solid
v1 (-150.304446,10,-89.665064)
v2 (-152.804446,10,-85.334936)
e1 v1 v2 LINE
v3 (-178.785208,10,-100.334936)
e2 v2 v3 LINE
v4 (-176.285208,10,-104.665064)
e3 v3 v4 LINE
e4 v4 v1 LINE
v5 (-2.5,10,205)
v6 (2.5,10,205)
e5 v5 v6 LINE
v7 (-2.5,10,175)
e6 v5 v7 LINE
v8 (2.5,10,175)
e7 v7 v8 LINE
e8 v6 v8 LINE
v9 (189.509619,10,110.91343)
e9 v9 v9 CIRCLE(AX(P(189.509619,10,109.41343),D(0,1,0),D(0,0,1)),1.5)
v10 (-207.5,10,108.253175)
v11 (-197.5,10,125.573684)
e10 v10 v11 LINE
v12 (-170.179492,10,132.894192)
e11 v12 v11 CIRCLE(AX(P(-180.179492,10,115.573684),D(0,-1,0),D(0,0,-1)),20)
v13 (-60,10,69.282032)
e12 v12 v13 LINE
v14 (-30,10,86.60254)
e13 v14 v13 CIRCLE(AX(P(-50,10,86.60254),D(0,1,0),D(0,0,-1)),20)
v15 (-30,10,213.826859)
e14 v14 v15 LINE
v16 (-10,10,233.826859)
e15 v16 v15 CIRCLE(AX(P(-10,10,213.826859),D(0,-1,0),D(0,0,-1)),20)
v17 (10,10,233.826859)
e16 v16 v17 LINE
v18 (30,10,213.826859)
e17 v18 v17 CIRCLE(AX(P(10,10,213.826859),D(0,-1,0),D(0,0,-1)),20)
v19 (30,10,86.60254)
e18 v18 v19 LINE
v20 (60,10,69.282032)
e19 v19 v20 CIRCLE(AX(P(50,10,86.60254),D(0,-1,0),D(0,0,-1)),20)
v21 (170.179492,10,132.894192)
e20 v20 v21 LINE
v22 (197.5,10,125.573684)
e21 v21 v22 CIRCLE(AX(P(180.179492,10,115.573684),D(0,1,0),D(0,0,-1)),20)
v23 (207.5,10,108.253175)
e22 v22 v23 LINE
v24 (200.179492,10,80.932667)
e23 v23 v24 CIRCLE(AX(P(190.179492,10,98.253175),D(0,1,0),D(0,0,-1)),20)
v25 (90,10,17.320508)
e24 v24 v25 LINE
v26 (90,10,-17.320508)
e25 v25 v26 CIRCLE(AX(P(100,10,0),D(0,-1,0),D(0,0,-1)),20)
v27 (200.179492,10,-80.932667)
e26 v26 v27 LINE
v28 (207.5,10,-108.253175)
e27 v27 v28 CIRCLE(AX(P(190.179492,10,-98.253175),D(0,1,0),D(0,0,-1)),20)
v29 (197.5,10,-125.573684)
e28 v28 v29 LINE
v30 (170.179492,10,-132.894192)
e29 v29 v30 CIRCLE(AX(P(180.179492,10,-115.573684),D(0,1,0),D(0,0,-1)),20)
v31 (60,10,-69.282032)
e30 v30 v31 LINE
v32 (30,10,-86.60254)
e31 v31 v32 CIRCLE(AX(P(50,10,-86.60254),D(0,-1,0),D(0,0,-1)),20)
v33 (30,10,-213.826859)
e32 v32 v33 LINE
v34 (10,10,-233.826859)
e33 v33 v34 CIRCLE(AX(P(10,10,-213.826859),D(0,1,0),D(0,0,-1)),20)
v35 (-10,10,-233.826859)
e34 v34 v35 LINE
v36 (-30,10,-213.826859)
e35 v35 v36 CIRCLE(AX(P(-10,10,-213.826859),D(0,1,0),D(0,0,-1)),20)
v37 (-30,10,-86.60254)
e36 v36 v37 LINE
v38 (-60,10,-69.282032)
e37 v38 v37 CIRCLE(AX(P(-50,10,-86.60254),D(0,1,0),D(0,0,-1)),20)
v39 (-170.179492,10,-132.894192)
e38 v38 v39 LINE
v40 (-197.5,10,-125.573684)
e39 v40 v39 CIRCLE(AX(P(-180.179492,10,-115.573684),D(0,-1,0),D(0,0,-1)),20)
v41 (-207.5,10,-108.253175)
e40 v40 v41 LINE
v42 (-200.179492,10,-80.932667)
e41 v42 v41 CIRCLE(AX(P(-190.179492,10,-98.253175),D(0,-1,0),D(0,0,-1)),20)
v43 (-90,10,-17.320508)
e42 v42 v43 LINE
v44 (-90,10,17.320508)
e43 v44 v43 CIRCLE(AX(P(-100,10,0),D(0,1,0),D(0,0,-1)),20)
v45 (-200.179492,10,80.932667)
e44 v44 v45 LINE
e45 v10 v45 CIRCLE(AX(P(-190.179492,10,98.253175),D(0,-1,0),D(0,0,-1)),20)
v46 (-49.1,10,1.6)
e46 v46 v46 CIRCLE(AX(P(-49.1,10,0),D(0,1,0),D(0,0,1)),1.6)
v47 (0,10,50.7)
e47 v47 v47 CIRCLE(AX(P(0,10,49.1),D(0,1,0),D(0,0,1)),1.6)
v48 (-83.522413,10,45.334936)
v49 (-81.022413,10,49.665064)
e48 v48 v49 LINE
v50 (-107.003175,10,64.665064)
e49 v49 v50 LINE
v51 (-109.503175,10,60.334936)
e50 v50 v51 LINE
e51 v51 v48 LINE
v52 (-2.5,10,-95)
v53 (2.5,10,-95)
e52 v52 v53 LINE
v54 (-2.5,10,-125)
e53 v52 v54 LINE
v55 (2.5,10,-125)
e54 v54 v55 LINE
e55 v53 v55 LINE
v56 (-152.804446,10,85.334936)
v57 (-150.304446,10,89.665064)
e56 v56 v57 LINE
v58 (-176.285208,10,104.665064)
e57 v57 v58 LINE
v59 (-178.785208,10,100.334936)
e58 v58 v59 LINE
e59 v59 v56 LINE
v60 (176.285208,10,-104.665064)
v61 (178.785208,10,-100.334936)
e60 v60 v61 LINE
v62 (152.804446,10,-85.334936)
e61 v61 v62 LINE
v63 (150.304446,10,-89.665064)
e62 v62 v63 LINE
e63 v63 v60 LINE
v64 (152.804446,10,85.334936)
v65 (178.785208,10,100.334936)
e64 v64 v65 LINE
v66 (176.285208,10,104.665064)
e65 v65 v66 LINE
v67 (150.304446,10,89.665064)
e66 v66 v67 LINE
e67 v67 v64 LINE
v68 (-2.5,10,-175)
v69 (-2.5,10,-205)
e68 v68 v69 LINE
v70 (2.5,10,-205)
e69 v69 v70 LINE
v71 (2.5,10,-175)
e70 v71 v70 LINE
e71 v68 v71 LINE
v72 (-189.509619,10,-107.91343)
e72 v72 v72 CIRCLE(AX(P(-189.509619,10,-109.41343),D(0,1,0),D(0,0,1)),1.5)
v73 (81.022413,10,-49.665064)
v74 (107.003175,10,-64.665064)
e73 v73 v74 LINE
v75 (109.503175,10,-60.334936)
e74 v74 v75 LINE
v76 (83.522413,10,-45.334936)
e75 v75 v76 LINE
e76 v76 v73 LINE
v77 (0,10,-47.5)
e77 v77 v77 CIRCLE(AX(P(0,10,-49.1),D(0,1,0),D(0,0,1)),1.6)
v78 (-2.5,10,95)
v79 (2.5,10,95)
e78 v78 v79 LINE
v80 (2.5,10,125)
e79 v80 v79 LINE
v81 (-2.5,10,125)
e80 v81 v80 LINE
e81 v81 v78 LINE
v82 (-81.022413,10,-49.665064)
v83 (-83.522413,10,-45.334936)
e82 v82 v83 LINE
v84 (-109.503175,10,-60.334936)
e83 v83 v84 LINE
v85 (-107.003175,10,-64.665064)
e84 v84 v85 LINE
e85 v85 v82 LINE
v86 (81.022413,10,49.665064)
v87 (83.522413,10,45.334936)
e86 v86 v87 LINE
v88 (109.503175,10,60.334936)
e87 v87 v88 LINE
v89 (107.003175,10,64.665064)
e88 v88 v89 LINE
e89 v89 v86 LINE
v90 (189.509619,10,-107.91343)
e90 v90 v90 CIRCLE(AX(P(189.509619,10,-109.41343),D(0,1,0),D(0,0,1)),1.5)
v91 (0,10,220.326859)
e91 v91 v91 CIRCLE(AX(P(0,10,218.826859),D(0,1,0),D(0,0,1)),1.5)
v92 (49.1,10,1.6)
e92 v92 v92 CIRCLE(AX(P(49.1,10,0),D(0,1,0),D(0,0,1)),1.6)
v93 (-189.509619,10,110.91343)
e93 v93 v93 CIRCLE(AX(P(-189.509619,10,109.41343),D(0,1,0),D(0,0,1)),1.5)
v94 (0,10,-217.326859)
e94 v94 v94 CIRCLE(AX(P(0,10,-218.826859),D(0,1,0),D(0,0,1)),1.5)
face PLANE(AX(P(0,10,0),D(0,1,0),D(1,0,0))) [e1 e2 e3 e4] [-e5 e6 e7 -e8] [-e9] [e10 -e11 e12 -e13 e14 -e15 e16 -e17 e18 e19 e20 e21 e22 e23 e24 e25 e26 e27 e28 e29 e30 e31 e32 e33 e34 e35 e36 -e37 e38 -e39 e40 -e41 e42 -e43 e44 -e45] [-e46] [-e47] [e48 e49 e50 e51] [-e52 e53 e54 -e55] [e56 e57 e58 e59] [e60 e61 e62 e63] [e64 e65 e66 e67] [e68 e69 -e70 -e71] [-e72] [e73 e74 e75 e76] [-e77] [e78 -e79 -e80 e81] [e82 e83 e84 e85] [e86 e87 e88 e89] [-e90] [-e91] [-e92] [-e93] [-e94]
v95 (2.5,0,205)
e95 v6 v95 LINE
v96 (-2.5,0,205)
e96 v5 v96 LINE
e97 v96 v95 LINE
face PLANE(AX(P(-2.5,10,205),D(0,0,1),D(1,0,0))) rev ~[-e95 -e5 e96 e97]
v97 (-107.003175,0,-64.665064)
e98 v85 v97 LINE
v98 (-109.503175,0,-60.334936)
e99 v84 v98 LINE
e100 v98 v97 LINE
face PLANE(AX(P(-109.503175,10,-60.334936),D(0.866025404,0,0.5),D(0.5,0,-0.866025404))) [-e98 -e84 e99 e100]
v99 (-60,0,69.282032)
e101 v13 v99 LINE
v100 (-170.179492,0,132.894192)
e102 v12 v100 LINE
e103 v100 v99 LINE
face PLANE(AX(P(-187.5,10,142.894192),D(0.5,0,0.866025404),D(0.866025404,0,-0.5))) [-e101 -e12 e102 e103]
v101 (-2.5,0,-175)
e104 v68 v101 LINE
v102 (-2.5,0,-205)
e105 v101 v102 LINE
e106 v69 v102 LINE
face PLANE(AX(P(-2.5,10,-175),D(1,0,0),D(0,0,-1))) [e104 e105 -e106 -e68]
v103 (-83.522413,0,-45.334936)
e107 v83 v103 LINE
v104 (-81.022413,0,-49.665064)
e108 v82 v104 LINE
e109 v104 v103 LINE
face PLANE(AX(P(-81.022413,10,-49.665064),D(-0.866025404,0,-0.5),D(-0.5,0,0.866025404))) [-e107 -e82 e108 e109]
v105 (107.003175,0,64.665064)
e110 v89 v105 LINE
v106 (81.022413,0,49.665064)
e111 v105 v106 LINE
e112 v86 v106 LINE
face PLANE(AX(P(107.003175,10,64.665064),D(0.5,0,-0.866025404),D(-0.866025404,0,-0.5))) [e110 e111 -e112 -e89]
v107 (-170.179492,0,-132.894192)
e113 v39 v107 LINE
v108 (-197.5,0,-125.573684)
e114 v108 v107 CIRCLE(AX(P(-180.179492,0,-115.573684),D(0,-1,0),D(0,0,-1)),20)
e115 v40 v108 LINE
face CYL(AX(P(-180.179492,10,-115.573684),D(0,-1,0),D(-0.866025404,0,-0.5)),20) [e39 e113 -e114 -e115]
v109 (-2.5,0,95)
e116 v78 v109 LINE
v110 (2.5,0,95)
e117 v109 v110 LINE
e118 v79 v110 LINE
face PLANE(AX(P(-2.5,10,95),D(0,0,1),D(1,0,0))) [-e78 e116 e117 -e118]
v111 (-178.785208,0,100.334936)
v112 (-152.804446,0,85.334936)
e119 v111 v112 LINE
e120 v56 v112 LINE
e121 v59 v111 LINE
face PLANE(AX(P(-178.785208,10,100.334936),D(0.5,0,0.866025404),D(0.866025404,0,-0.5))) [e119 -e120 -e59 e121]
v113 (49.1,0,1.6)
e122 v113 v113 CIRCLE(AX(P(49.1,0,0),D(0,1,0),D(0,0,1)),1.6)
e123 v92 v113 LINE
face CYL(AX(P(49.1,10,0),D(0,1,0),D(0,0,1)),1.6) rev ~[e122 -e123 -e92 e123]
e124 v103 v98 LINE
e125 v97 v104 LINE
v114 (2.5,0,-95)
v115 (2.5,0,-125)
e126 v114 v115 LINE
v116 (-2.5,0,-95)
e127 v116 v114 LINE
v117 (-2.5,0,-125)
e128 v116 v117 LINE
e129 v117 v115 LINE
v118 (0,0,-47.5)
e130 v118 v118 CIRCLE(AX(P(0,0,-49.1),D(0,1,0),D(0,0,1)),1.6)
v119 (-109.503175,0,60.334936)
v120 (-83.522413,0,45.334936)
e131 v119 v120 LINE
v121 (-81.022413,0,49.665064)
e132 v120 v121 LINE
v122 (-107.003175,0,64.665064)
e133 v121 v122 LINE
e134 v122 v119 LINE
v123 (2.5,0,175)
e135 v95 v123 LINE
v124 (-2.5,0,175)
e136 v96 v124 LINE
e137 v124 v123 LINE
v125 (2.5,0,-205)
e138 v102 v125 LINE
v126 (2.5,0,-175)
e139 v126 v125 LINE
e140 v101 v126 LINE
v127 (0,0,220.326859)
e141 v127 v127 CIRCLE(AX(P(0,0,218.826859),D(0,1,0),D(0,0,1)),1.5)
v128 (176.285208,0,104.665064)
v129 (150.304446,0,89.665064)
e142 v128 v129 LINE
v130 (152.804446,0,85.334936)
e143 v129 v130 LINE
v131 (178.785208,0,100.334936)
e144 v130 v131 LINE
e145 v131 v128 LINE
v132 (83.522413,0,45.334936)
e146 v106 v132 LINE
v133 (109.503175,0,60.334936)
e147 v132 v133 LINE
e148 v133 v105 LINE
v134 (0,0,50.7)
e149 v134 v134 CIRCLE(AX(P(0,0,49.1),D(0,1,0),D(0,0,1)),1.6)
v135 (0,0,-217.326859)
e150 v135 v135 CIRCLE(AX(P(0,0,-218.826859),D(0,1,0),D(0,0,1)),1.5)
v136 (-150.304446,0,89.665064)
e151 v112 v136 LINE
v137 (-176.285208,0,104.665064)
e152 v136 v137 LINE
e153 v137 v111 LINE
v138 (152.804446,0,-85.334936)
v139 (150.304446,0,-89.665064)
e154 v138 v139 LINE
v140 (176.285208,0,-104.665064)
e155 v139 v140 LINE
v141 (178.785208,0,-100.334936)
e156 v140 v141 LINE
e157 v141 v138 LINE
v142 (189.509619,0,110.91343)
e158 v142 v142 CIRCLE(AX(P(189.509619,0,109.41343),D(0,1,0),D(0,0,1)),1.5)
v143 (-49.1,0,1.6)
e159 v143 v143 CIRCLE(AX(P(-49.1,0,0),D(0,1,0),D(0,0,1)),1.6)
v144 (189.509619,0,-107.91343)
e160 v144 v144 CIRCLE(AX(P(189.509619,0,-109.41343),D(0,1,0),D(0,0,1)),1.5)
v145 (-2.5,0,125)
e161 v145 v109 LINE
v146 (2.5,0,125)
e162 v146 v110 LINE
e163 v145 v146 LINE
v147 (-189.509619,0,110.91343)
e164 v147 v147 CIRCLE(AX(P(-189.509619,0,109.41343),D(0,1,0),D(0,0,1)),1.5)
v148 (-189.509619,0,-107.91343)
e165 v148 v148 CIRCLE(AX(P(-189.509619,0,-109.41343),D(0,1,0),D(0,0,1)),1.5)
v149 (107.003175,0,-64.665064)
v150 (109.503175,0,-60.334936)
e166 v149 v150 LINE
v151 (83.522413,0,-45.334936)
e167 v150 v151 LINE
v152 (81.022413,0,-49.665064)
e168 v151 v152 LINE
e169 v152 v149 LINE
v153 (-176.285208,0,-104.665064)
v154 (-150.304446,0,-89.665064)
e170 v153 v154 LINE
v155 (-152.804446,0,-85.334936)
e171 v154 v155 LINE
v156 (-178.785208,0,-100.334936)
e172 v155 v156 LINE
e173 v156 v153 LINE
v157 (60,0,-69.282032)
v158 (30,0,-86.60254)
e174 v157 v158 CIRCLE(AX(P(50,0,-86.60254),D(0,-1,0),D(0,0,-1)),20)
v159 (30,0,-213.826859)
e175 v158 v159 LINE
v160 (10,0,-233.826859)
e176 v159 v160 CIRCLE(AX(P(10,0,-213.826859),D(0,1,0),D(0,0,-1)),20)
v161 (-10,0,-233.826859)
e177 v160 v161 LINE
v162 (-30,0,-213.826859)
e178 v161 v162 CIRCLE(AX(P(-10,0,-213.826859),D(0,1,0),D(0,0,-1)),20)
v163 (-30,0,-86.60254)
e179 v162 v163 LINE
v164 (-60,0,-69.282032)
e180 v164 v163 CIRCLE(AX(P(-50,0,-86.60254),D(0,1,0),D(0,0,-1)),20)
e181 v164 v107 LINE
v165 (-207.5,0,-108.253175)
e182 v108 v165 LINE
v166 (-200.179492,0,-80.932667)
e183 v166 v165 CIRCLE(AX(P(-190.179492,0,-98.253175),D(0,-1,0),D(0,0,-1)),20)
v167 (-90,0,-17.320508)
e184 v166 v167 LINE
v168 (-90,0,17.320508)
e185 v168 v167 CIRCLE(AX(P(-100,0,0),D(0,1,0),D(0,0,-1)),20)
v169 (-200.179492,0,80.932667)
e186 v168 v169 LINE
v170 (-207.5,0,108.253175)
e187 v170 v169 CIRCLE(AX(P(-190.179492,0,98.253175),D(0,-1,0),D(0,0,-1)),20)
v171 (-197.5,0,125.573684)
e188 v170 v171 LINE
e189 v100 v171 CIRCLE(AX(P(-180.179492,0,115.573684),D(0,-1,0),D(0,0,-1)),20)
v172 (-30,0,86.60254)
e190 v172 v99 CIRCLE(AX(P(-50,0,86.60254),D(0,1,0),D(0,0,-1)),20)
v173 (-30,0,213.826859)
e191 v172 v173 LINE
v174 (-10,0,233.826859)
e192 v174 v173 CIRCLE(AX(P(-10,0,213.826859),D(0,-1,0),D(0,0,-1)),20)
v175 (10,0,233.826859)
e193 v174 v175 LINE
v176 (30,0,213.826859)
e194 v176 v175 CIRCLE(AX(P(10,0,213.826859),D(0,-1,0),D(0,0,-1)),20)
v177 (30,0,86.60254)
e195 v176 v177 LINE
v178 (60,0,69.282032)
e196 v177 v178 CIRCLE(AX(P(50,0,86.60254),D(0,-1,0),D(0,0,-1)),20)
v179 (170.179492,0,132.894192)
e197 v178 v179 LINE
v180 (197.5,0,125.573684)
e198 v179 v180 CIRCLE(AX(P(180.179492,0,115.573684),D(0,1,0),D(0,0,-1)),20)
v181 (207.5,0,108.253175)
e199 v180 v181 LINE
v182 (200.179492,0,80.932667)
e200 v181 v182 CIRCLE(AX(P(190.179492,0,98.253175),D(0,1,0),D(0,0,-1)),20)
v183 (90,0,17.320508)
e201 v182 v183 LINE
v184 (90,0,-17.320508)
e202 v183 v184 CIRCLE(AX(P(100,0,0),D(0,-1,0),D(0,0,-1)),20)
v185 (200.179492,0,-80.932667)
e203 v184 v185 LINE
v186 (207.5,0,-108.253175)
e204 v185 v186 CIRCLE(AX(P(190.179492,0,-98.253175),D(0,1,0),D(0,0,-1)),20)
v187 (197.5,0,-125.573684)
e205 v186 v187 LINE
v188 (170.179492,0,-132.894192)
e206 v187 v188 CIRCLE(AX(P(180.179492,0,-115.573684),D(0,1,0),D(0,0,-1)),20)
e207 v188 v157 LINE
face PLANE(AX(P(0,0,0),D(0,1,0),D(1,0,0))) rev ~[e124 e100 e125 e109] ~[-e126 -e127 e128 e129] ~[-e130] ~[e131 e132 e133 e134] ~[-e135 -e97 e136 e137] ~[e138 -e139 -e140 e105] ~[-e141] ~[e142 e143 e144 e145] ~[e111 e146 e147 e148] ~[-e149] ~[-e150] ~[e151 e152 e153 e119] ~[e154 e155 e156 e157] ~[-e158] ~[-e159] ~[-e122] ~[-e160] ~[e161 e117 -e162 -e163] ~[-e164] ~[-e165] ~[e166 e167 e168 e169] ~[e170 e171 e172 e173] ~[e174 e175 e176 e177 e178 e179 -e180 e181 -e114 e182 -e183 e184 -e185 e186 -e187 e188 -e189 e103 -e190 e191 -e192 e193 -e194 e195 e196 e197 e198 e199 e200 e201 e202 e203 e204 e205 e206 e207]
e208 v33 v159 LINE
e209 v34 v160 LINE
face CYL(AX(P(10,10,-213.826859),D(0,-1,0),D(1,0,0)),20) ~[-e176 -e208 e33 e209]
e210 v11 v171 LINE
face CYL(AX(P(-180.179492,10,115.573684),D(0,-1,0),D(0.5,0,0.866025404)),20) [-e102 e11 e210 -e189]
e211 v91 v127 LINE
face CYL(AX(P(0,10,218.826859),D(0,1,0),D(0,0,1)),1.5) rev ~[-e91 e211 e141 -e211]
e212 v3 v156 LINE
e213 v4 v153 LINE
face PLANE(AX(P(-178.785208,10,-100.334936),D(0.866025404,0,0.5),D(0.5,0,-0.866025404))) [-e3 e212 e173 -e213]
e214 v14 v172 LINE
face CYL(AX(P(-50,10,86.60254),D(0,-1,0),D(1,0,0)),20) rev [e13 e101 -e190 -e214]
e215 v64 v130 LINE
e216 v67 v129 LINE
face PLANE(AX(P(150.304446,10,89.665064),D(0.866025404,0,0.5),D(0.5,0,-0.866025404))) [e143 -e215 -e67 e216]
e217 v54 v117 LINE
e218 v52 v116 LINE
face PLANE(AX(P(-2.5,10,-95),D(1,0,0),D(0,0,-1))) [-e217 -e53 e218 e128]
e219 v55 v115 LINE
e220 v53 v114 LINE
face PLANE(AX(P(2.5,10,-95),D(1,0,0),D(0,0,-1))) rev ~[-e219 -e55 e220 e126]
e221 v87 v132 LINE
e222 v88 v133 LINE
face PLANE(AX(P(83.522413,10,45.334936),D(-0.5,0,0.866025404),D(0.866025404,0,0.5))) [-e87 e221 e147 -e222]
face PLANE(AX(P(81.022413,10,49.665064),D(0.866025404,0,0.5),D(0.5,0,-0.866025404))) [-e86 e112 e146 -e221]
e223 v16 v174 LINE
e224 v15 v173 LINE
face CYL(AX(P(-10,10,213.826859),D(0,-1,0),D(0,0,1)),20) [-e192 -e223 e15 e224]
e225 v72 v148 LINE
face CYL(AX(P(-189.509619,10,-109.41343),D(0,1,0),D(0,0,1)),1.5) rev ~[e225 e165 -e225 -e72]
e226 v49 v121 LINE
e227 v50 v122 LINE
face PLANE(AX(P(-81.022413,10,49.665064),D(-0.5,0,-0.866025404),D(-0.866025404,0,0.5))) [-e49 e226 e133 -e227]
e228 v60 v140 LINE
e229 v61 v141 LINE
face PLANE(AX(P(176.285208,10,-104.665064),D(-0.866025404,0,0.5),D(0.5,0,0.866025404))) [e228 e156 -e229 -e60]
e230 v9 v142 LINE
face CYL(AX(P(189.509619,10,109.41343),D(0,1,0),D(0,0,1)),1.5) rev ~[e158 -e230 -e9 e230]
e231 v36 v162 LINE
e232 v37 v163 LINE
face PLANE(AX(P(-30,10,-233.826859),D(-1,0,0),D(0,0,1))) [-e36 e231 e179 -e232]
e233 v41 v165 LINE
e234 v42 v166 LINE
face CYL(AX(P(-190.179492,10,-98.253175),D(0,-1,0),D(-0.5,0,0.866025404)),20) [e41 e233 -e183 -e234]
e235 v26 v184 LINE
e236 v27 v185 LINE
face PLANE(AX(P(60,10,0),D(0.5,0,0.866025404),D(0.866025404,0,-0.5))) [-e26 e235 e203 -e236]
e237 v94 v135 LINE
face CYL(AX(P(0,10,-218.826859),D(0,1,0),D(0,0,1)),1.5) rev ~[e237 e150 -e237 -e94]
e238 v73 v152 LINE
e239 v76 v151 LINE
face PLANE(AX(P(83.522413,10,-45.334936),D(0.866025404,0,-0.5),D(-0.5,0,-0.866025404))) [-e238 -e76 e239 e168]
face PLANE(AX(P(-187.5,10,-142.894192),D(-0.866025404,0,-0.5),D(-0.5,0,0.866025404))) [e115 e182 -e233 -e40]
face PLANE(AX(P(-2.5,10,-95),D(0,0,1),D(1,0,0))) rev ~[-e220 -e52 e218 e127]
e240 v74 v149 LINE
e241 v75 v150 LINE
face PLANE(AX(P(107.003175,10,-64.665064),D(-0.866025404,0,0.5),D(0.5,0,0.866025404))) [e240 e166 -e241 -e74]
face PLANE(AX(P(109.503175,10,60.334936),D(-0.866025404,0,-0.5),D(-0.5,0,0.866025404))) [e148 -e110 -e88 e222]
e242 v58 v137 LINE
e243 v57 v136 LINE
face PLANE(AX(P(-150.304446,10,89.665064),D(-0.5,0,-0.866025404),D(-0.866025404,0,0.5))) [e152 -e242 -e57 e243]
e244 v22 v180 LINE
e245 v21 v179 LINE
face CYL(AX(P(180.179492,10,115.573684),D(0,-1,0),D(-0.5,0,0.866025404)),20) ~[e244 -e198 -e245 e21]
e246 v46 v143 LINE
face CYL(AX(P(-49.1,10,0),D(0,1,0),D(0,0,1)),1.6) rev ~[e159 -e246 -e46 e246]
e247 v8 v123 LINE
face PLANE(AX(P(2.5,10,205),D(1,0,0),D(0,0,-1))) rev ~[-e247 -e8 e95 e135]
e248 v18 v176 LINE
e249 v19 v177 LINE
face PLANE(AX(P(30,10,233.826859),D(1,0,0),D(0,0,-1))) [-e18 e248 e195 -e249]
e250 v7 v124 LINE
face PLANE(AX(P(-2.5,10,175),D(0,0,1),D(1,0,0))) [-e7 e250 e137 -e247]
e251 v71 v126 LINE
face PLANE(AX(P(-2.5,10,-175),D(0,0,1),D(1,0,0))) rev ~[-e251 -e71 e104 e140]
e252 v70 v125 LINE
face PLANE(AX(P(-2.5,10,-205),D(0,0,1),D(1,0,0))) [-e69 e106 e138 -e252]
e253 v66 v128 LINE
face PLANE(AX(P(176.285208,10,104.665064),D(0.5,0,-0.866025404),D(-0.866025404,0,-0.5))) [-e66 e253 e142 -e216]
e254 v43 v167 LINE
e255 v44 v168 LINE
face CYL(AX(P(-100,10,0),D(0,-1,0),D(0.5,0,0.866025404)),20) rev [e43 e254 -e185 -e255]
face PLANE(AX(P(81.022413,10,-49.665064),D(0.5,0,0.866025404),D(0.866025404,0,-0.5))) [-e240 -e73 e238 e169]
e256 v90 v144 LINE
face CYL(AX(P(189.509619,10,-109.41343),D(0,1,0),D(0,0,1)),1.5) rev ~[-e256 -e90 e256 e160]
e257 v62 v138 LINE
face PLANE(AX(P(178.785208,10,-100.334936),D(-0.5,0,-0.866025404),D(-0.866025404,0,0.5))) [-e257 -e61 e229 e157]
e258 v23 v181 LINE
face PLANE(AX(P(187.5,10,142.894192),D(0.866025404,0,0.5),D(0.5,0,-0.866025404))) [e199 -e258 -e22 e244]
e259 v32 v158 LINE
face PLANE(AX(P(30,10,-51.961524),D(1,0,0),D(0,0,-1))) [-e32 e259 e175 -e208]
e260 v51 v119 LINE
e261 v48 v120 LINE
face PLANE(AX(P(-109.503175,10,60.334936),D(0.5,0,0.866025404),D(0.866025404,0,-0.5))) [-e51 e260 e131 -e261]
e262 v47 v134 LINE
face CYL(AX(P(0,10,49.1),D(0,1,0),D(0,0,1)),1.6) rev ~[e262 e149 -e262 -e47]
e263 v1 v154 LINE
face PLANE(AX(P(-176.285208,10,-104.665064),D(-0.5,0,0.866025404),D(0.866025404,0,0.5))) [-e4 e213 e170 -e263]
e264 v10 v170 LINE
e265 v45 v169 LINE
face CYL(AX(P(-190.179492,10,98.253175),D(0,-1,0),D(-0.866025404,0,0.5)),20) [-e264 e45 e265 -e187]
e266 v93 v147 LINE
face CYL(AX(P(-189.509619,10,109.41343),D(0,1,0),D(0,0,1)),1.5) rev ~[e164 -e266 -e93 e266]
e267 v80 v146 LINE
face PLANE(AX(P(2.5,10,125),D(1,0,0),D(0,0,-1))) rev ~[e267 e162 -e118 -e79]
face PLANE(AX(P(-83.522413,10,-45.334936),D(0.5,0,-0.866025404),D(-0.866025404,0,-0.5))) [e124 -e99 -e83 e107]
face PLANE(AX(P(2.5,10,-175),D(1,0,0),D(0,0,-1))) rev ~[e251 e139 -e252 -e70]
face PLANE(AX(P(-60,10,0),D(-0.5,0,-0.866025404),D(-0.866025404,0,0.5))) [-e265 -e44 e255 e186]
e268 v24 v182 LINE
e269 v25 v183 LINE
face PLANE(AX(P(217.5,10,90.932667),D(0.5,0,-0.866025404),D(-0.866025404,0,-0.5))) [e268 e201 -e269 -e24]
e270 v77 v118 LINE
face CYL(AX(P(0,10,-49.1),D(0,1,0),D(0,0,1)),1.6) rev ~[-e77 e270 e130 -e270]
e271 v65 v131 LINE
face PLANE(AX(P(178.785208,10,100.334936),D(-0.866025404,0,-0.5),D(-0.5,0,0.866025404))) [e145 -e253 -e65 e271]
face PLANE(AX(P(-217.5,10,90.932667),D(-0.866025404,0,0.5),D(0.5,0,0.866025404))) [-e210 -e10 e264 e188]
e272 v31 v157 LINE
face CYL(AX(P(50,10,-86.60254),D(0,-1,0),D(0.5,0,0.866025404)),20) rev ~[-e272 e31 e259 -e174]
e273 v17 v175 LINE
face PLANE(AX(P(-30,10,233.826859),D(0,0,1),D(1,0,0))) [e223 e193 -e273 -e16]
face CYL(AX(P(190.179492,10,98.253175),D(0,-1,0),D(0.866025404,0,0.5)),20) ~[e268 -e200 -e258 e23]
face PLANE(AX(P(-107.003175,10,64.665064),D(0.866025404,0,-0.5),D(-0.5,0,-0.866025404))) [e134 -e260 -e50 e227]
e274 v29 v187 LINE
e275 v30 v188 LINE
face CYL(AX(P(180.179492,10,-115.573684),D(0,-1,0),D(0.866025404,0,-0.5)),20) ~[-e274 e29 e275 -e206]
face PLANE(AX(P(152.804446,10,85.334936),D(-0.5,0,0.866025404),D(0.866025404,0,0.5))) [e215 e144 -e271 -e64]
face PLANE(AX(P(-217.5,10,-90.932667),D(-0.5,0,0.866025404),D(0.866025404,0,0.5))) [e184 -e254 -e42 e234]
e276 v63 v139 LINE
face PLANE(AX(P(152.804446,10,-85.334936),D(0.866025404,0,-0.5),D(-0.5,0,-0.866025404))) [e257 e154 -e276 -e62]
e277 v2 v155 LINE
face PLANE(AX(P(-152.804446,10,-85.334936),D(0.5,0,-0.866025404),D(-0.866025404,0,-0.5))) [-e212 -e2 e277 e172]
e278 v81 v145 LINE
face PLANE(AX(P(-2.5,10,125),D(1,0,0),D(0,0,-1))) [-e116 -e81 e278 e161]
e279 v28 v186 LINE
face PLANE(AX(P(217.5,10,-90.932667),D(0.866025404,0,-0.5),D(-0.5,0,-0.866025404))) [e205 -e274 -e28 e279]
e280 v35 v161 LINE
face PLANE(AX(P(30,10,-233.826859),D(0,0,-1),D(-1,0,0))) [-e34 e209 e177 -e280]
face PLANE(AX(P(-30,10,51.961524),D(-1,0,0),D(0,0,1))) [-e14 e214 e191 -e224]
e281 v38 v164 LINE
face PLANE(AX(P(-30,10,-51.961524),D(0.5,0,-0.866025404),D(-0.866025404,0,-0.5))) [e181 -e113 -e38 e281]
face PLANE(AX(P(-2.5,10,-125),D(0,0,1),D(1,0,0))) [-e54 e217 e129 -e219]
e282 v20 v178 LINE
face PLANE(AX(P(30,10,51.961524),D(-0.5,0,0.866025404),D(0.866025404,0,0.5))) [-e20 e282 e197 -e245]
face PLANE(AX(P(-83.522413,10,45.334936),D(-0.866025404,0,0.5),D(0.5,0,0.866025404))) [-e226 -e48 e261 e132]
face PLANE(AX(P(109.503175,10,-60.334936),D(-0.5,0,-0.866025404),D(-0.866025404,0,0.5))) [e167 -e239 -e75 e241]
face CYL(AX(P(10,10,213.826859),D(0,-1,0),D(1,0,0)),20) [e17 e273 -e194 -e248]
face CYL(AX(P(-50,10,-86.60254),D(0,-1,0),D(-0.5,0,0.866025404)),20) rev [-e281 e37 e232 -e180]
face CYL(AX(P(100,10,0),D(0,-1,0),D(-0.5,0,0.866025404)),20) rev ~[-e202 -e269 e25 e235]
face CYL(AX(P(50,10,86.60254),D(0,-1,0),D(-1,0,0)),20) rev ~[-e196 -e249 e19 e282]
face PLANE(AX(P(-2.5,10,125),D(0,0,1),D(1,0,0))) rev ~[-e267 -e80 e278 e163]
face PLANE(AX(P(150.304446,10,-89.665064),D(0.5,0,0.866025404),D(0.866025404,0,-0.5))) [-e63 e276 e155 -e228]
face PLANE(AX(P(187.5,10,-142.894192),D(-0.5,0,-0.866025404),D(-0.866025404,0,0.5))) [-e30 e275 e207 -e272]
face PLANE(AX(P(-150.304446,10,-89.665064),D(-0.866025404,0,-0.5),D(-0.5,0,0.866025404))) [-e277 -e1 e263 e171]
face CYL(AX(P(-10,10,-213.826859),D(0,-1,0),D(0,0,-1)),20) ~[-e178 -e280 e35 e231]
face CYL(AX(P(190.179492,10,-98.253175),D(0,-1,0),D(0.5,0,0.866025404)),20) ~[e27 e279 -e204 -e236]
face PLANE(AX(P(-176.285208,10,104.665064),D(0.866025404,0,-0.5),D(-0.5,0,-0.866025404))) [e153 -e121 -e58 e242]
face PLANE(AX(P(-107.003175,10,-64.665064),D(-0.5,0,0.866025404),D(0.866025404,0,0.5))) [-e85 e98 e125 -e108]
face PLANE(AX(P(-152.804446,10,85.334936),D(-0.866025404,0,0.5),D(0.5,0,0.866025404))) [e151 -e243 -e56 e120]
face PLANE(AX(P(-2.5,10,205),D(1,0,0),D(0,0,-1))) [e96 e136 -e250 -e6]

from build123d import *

# Parameters (mm, degrees)
SKETCH_2_W          = 46
SKETCH_2_H          = 46
EXTRUDE_1_DEPTH     = 10
SKETCH_4_R          = 55
SKETCH_4_R_2        = 1.6
EXTRUDE_2_DEPTH     = 10
SKETCH_5_R          = 55
EXTRUDE_3_DEPTH     = 10
SKETCH_6_R          = 1.5
SKETCH_6_W          = 5
SKETCH_6_H          = 30
CUT_EXTRUDE_1_DEPTH = 320.501564941
FILLET_1_R          = 20


with BuildPart() as part:
    # 草图2 → 凸台-拉伸1 (new body)
    with BuildSketch(Plane(origin=(0, 0, 0), x_dir=(1, 0, 0), z_dir=(0, 1, 0))):
        Rectangle(SKETCH_2_W, SKETCH_2_H)
    extrude(amount=EXTRUDE_1_DEPTH)

    # 草图4 → 凸台-拉伸2 (add)
    with BuildSketch(Plane(origin=(0, 10, 0), x_dir=(1, 0, 0), z_dir=(0, 1, 0))):
        with Locations(Location((0, 0, 0), (0, 0, 270))):
            Circle(SKETCH_4_R)
        with Locations(Location((-49.1, 0, 0), (0, 0, 270))):
            Circle(SKETCH_4_R_2, mode=Mode.SUBTRACT)
        with Locations(Location((0, -49.1, 0), (0, 0, 270))):
            Circle(SKETCH_4_R_2, mode=Mode.SUBTRACT)
        with Locations(Location((49.1, 0, 0), (0, 0, 270))):
            Circle(SKETCH_4_R_2, mode=Mode.SUBTRACT)
        with Locations(Location((0, 49.1, 0), (0, 0, 270))):
            Circle(SKETCH_4_R_2, mode=Mode.SUBTRACT)
    extrude(amount=-EXTRUDE_2_DEPTH)

    # 草图5 → 凸台-拉伸3 (add)
    with BuildSketch(Plane(origin=(0, 10, 0), x_dir=(1, 0, 0), z_dir=(0, 1, 0))):
        Polygon((30, -233.826859022), (30, -51.961524227), (187.5, -142.894191624), (217.5, -90.932667397), (60, 0), (217.5, 90.932667397), (187.5, 142.894191624), (30, 51.961524227), (30, 233.826859022), (-30, 233.826859022), (-30, 51.961524227), (-187.5, 142.894191624), (-217.5, 90.932667397), (-60, 0), (-217.5, -90.932667397), (-187.5, -142.894191624), (-30, -51.961524227), (-30, -233.826859022), align=None)
        Circle(SKETCH_5_R, mode=Mode.SUBTRACT)
    extrude(amount=-EXTRUDE_3_DEPTH)

    # 草图6 → 切除-拉伸1 (cut, through all)
    with BuildSketch(Plane(origin=(0, 10, 0), x_dir=(1, 0, 0), z_dir=(0, 1, 0))):
        with Locations(Location((0, 218.826859022, 0), (0, 0, 270))):
            Circle(SKETCH_6_R)
        with Locations(Location((189.509618943, 109.413429511, 0), (0, 0, 270))):
            Circle(SKETCH_6_R)
        with Locations(Location((189.509618943, -109.413429511, 0), (0, 0, 270))):
            Circle(SKETCH_6_R)
        with Locations(Location((0, -218.826859022, 0), (0, 0, 270))):
            Circle(SKETCH_6_R)
        with Locations(Location((-189.509618943, -109.413429511, 0), (0, 0, 270))):
            Circle(SKETCH_6_R)
        with Locations(Location((-189.509618943, 109.413429511, 0), (0, 0, 270))):
            Circle(SKETCH_6_R)
        Polygon((152.804445662, 85.334936491), (150.304445662, 89.665063509), (176.285207776, 104.665063509), (178.785207776, 100.334936491), align=None)
        with Locations((0, 190)):
            Rectangle(SKETCH_6_W, SKETCH_6_H)
        with Locations((0, 110)):
            Rectangle(SKETCH_6_W, SKETCH_6_H)
        Polygon((83.52241336, 45.334936491), (81.02241336, 49.665063509), (107.003175473, 64.665063509), (109.503175473, 60.334936491), align=None)
        Polygon((-107.003175473, -64.665063509), (-109.503175473, -60.334936491), (-83.52241336, -45.334936491), (-81.02241336, -49.665063509), align=None)
        Polygon((81.02241336, -49.665063509), (83.52241336, -45.334936491), (109.503175473, -60.334936491), (107.003175473, -64.665063509), align=None)
        Polygon((-109.503175473, 60.334936491), (-107.003175473, 64.665063509), (-81.02241336, 49.665063509), (-83.52241336, 45.334936491), align=None)
        Polygon((-176.285207776, -104.665063509), (-178.785207776, -100.334936491), (-152.804445662, -85.334936491), (-150.304445662, -89.665063509), align=None)
        Polygon((150.304445662, -89.665063509), (152.804445662, -85.334936491), (178.785207776, -100.334936491), (176.285207776, -104.665063509), align=None)
        Polygon((-178.785207776, 100.334936491), (-176.285207776, 104.665063509), (-150.304445662, 89.665063509), (-152.804445662, 85.334936491), align=None)
        with Locations((0, -110)):
            Rectangle(SKETCH_6_W, SKETCH_6_H)
        with Locations((0, -190)):
            Rectangle(SKETCH_6_W, SKETCH_6_H)
    extrude(amount=-CUT_EXTRUDE_1_DEPTH, mode=Mode.SUBTRACT)

    # 圆角1
    fillet_1_edges = [part.edges().sort_by_distance(p)[0] for p in [
        (187.5, 5, -142.894191624),
        (217.5, 5, -90.932667397),
        (60, 5, 0),
        (217.5, 5, 90.932667397),
        (187.5, 5, 142.894191624),
        (30, 5, 51.961524227),
        (30, 5, 233.826859022),
        (-30, 5, 233.826859022),
        (-30, 5, 51.961524227),
        (-187.5, 5, 142.894191624),
        (-217.5, 5, 90.932667397),
        (-60, 5, 0),
        (-217.5, 5, -90.932667397),
        (-187.5, 5, -142.894191624),
        (-30, 5, -51.961524227),
        (-30, 5, -233.826859022),
        (30, 5, -233.826859022),
        (30, 5, -51.961524227),
    ]]
    fillet(fillet_1_edges, radius=FILLET_1_R)


solid = part.part
